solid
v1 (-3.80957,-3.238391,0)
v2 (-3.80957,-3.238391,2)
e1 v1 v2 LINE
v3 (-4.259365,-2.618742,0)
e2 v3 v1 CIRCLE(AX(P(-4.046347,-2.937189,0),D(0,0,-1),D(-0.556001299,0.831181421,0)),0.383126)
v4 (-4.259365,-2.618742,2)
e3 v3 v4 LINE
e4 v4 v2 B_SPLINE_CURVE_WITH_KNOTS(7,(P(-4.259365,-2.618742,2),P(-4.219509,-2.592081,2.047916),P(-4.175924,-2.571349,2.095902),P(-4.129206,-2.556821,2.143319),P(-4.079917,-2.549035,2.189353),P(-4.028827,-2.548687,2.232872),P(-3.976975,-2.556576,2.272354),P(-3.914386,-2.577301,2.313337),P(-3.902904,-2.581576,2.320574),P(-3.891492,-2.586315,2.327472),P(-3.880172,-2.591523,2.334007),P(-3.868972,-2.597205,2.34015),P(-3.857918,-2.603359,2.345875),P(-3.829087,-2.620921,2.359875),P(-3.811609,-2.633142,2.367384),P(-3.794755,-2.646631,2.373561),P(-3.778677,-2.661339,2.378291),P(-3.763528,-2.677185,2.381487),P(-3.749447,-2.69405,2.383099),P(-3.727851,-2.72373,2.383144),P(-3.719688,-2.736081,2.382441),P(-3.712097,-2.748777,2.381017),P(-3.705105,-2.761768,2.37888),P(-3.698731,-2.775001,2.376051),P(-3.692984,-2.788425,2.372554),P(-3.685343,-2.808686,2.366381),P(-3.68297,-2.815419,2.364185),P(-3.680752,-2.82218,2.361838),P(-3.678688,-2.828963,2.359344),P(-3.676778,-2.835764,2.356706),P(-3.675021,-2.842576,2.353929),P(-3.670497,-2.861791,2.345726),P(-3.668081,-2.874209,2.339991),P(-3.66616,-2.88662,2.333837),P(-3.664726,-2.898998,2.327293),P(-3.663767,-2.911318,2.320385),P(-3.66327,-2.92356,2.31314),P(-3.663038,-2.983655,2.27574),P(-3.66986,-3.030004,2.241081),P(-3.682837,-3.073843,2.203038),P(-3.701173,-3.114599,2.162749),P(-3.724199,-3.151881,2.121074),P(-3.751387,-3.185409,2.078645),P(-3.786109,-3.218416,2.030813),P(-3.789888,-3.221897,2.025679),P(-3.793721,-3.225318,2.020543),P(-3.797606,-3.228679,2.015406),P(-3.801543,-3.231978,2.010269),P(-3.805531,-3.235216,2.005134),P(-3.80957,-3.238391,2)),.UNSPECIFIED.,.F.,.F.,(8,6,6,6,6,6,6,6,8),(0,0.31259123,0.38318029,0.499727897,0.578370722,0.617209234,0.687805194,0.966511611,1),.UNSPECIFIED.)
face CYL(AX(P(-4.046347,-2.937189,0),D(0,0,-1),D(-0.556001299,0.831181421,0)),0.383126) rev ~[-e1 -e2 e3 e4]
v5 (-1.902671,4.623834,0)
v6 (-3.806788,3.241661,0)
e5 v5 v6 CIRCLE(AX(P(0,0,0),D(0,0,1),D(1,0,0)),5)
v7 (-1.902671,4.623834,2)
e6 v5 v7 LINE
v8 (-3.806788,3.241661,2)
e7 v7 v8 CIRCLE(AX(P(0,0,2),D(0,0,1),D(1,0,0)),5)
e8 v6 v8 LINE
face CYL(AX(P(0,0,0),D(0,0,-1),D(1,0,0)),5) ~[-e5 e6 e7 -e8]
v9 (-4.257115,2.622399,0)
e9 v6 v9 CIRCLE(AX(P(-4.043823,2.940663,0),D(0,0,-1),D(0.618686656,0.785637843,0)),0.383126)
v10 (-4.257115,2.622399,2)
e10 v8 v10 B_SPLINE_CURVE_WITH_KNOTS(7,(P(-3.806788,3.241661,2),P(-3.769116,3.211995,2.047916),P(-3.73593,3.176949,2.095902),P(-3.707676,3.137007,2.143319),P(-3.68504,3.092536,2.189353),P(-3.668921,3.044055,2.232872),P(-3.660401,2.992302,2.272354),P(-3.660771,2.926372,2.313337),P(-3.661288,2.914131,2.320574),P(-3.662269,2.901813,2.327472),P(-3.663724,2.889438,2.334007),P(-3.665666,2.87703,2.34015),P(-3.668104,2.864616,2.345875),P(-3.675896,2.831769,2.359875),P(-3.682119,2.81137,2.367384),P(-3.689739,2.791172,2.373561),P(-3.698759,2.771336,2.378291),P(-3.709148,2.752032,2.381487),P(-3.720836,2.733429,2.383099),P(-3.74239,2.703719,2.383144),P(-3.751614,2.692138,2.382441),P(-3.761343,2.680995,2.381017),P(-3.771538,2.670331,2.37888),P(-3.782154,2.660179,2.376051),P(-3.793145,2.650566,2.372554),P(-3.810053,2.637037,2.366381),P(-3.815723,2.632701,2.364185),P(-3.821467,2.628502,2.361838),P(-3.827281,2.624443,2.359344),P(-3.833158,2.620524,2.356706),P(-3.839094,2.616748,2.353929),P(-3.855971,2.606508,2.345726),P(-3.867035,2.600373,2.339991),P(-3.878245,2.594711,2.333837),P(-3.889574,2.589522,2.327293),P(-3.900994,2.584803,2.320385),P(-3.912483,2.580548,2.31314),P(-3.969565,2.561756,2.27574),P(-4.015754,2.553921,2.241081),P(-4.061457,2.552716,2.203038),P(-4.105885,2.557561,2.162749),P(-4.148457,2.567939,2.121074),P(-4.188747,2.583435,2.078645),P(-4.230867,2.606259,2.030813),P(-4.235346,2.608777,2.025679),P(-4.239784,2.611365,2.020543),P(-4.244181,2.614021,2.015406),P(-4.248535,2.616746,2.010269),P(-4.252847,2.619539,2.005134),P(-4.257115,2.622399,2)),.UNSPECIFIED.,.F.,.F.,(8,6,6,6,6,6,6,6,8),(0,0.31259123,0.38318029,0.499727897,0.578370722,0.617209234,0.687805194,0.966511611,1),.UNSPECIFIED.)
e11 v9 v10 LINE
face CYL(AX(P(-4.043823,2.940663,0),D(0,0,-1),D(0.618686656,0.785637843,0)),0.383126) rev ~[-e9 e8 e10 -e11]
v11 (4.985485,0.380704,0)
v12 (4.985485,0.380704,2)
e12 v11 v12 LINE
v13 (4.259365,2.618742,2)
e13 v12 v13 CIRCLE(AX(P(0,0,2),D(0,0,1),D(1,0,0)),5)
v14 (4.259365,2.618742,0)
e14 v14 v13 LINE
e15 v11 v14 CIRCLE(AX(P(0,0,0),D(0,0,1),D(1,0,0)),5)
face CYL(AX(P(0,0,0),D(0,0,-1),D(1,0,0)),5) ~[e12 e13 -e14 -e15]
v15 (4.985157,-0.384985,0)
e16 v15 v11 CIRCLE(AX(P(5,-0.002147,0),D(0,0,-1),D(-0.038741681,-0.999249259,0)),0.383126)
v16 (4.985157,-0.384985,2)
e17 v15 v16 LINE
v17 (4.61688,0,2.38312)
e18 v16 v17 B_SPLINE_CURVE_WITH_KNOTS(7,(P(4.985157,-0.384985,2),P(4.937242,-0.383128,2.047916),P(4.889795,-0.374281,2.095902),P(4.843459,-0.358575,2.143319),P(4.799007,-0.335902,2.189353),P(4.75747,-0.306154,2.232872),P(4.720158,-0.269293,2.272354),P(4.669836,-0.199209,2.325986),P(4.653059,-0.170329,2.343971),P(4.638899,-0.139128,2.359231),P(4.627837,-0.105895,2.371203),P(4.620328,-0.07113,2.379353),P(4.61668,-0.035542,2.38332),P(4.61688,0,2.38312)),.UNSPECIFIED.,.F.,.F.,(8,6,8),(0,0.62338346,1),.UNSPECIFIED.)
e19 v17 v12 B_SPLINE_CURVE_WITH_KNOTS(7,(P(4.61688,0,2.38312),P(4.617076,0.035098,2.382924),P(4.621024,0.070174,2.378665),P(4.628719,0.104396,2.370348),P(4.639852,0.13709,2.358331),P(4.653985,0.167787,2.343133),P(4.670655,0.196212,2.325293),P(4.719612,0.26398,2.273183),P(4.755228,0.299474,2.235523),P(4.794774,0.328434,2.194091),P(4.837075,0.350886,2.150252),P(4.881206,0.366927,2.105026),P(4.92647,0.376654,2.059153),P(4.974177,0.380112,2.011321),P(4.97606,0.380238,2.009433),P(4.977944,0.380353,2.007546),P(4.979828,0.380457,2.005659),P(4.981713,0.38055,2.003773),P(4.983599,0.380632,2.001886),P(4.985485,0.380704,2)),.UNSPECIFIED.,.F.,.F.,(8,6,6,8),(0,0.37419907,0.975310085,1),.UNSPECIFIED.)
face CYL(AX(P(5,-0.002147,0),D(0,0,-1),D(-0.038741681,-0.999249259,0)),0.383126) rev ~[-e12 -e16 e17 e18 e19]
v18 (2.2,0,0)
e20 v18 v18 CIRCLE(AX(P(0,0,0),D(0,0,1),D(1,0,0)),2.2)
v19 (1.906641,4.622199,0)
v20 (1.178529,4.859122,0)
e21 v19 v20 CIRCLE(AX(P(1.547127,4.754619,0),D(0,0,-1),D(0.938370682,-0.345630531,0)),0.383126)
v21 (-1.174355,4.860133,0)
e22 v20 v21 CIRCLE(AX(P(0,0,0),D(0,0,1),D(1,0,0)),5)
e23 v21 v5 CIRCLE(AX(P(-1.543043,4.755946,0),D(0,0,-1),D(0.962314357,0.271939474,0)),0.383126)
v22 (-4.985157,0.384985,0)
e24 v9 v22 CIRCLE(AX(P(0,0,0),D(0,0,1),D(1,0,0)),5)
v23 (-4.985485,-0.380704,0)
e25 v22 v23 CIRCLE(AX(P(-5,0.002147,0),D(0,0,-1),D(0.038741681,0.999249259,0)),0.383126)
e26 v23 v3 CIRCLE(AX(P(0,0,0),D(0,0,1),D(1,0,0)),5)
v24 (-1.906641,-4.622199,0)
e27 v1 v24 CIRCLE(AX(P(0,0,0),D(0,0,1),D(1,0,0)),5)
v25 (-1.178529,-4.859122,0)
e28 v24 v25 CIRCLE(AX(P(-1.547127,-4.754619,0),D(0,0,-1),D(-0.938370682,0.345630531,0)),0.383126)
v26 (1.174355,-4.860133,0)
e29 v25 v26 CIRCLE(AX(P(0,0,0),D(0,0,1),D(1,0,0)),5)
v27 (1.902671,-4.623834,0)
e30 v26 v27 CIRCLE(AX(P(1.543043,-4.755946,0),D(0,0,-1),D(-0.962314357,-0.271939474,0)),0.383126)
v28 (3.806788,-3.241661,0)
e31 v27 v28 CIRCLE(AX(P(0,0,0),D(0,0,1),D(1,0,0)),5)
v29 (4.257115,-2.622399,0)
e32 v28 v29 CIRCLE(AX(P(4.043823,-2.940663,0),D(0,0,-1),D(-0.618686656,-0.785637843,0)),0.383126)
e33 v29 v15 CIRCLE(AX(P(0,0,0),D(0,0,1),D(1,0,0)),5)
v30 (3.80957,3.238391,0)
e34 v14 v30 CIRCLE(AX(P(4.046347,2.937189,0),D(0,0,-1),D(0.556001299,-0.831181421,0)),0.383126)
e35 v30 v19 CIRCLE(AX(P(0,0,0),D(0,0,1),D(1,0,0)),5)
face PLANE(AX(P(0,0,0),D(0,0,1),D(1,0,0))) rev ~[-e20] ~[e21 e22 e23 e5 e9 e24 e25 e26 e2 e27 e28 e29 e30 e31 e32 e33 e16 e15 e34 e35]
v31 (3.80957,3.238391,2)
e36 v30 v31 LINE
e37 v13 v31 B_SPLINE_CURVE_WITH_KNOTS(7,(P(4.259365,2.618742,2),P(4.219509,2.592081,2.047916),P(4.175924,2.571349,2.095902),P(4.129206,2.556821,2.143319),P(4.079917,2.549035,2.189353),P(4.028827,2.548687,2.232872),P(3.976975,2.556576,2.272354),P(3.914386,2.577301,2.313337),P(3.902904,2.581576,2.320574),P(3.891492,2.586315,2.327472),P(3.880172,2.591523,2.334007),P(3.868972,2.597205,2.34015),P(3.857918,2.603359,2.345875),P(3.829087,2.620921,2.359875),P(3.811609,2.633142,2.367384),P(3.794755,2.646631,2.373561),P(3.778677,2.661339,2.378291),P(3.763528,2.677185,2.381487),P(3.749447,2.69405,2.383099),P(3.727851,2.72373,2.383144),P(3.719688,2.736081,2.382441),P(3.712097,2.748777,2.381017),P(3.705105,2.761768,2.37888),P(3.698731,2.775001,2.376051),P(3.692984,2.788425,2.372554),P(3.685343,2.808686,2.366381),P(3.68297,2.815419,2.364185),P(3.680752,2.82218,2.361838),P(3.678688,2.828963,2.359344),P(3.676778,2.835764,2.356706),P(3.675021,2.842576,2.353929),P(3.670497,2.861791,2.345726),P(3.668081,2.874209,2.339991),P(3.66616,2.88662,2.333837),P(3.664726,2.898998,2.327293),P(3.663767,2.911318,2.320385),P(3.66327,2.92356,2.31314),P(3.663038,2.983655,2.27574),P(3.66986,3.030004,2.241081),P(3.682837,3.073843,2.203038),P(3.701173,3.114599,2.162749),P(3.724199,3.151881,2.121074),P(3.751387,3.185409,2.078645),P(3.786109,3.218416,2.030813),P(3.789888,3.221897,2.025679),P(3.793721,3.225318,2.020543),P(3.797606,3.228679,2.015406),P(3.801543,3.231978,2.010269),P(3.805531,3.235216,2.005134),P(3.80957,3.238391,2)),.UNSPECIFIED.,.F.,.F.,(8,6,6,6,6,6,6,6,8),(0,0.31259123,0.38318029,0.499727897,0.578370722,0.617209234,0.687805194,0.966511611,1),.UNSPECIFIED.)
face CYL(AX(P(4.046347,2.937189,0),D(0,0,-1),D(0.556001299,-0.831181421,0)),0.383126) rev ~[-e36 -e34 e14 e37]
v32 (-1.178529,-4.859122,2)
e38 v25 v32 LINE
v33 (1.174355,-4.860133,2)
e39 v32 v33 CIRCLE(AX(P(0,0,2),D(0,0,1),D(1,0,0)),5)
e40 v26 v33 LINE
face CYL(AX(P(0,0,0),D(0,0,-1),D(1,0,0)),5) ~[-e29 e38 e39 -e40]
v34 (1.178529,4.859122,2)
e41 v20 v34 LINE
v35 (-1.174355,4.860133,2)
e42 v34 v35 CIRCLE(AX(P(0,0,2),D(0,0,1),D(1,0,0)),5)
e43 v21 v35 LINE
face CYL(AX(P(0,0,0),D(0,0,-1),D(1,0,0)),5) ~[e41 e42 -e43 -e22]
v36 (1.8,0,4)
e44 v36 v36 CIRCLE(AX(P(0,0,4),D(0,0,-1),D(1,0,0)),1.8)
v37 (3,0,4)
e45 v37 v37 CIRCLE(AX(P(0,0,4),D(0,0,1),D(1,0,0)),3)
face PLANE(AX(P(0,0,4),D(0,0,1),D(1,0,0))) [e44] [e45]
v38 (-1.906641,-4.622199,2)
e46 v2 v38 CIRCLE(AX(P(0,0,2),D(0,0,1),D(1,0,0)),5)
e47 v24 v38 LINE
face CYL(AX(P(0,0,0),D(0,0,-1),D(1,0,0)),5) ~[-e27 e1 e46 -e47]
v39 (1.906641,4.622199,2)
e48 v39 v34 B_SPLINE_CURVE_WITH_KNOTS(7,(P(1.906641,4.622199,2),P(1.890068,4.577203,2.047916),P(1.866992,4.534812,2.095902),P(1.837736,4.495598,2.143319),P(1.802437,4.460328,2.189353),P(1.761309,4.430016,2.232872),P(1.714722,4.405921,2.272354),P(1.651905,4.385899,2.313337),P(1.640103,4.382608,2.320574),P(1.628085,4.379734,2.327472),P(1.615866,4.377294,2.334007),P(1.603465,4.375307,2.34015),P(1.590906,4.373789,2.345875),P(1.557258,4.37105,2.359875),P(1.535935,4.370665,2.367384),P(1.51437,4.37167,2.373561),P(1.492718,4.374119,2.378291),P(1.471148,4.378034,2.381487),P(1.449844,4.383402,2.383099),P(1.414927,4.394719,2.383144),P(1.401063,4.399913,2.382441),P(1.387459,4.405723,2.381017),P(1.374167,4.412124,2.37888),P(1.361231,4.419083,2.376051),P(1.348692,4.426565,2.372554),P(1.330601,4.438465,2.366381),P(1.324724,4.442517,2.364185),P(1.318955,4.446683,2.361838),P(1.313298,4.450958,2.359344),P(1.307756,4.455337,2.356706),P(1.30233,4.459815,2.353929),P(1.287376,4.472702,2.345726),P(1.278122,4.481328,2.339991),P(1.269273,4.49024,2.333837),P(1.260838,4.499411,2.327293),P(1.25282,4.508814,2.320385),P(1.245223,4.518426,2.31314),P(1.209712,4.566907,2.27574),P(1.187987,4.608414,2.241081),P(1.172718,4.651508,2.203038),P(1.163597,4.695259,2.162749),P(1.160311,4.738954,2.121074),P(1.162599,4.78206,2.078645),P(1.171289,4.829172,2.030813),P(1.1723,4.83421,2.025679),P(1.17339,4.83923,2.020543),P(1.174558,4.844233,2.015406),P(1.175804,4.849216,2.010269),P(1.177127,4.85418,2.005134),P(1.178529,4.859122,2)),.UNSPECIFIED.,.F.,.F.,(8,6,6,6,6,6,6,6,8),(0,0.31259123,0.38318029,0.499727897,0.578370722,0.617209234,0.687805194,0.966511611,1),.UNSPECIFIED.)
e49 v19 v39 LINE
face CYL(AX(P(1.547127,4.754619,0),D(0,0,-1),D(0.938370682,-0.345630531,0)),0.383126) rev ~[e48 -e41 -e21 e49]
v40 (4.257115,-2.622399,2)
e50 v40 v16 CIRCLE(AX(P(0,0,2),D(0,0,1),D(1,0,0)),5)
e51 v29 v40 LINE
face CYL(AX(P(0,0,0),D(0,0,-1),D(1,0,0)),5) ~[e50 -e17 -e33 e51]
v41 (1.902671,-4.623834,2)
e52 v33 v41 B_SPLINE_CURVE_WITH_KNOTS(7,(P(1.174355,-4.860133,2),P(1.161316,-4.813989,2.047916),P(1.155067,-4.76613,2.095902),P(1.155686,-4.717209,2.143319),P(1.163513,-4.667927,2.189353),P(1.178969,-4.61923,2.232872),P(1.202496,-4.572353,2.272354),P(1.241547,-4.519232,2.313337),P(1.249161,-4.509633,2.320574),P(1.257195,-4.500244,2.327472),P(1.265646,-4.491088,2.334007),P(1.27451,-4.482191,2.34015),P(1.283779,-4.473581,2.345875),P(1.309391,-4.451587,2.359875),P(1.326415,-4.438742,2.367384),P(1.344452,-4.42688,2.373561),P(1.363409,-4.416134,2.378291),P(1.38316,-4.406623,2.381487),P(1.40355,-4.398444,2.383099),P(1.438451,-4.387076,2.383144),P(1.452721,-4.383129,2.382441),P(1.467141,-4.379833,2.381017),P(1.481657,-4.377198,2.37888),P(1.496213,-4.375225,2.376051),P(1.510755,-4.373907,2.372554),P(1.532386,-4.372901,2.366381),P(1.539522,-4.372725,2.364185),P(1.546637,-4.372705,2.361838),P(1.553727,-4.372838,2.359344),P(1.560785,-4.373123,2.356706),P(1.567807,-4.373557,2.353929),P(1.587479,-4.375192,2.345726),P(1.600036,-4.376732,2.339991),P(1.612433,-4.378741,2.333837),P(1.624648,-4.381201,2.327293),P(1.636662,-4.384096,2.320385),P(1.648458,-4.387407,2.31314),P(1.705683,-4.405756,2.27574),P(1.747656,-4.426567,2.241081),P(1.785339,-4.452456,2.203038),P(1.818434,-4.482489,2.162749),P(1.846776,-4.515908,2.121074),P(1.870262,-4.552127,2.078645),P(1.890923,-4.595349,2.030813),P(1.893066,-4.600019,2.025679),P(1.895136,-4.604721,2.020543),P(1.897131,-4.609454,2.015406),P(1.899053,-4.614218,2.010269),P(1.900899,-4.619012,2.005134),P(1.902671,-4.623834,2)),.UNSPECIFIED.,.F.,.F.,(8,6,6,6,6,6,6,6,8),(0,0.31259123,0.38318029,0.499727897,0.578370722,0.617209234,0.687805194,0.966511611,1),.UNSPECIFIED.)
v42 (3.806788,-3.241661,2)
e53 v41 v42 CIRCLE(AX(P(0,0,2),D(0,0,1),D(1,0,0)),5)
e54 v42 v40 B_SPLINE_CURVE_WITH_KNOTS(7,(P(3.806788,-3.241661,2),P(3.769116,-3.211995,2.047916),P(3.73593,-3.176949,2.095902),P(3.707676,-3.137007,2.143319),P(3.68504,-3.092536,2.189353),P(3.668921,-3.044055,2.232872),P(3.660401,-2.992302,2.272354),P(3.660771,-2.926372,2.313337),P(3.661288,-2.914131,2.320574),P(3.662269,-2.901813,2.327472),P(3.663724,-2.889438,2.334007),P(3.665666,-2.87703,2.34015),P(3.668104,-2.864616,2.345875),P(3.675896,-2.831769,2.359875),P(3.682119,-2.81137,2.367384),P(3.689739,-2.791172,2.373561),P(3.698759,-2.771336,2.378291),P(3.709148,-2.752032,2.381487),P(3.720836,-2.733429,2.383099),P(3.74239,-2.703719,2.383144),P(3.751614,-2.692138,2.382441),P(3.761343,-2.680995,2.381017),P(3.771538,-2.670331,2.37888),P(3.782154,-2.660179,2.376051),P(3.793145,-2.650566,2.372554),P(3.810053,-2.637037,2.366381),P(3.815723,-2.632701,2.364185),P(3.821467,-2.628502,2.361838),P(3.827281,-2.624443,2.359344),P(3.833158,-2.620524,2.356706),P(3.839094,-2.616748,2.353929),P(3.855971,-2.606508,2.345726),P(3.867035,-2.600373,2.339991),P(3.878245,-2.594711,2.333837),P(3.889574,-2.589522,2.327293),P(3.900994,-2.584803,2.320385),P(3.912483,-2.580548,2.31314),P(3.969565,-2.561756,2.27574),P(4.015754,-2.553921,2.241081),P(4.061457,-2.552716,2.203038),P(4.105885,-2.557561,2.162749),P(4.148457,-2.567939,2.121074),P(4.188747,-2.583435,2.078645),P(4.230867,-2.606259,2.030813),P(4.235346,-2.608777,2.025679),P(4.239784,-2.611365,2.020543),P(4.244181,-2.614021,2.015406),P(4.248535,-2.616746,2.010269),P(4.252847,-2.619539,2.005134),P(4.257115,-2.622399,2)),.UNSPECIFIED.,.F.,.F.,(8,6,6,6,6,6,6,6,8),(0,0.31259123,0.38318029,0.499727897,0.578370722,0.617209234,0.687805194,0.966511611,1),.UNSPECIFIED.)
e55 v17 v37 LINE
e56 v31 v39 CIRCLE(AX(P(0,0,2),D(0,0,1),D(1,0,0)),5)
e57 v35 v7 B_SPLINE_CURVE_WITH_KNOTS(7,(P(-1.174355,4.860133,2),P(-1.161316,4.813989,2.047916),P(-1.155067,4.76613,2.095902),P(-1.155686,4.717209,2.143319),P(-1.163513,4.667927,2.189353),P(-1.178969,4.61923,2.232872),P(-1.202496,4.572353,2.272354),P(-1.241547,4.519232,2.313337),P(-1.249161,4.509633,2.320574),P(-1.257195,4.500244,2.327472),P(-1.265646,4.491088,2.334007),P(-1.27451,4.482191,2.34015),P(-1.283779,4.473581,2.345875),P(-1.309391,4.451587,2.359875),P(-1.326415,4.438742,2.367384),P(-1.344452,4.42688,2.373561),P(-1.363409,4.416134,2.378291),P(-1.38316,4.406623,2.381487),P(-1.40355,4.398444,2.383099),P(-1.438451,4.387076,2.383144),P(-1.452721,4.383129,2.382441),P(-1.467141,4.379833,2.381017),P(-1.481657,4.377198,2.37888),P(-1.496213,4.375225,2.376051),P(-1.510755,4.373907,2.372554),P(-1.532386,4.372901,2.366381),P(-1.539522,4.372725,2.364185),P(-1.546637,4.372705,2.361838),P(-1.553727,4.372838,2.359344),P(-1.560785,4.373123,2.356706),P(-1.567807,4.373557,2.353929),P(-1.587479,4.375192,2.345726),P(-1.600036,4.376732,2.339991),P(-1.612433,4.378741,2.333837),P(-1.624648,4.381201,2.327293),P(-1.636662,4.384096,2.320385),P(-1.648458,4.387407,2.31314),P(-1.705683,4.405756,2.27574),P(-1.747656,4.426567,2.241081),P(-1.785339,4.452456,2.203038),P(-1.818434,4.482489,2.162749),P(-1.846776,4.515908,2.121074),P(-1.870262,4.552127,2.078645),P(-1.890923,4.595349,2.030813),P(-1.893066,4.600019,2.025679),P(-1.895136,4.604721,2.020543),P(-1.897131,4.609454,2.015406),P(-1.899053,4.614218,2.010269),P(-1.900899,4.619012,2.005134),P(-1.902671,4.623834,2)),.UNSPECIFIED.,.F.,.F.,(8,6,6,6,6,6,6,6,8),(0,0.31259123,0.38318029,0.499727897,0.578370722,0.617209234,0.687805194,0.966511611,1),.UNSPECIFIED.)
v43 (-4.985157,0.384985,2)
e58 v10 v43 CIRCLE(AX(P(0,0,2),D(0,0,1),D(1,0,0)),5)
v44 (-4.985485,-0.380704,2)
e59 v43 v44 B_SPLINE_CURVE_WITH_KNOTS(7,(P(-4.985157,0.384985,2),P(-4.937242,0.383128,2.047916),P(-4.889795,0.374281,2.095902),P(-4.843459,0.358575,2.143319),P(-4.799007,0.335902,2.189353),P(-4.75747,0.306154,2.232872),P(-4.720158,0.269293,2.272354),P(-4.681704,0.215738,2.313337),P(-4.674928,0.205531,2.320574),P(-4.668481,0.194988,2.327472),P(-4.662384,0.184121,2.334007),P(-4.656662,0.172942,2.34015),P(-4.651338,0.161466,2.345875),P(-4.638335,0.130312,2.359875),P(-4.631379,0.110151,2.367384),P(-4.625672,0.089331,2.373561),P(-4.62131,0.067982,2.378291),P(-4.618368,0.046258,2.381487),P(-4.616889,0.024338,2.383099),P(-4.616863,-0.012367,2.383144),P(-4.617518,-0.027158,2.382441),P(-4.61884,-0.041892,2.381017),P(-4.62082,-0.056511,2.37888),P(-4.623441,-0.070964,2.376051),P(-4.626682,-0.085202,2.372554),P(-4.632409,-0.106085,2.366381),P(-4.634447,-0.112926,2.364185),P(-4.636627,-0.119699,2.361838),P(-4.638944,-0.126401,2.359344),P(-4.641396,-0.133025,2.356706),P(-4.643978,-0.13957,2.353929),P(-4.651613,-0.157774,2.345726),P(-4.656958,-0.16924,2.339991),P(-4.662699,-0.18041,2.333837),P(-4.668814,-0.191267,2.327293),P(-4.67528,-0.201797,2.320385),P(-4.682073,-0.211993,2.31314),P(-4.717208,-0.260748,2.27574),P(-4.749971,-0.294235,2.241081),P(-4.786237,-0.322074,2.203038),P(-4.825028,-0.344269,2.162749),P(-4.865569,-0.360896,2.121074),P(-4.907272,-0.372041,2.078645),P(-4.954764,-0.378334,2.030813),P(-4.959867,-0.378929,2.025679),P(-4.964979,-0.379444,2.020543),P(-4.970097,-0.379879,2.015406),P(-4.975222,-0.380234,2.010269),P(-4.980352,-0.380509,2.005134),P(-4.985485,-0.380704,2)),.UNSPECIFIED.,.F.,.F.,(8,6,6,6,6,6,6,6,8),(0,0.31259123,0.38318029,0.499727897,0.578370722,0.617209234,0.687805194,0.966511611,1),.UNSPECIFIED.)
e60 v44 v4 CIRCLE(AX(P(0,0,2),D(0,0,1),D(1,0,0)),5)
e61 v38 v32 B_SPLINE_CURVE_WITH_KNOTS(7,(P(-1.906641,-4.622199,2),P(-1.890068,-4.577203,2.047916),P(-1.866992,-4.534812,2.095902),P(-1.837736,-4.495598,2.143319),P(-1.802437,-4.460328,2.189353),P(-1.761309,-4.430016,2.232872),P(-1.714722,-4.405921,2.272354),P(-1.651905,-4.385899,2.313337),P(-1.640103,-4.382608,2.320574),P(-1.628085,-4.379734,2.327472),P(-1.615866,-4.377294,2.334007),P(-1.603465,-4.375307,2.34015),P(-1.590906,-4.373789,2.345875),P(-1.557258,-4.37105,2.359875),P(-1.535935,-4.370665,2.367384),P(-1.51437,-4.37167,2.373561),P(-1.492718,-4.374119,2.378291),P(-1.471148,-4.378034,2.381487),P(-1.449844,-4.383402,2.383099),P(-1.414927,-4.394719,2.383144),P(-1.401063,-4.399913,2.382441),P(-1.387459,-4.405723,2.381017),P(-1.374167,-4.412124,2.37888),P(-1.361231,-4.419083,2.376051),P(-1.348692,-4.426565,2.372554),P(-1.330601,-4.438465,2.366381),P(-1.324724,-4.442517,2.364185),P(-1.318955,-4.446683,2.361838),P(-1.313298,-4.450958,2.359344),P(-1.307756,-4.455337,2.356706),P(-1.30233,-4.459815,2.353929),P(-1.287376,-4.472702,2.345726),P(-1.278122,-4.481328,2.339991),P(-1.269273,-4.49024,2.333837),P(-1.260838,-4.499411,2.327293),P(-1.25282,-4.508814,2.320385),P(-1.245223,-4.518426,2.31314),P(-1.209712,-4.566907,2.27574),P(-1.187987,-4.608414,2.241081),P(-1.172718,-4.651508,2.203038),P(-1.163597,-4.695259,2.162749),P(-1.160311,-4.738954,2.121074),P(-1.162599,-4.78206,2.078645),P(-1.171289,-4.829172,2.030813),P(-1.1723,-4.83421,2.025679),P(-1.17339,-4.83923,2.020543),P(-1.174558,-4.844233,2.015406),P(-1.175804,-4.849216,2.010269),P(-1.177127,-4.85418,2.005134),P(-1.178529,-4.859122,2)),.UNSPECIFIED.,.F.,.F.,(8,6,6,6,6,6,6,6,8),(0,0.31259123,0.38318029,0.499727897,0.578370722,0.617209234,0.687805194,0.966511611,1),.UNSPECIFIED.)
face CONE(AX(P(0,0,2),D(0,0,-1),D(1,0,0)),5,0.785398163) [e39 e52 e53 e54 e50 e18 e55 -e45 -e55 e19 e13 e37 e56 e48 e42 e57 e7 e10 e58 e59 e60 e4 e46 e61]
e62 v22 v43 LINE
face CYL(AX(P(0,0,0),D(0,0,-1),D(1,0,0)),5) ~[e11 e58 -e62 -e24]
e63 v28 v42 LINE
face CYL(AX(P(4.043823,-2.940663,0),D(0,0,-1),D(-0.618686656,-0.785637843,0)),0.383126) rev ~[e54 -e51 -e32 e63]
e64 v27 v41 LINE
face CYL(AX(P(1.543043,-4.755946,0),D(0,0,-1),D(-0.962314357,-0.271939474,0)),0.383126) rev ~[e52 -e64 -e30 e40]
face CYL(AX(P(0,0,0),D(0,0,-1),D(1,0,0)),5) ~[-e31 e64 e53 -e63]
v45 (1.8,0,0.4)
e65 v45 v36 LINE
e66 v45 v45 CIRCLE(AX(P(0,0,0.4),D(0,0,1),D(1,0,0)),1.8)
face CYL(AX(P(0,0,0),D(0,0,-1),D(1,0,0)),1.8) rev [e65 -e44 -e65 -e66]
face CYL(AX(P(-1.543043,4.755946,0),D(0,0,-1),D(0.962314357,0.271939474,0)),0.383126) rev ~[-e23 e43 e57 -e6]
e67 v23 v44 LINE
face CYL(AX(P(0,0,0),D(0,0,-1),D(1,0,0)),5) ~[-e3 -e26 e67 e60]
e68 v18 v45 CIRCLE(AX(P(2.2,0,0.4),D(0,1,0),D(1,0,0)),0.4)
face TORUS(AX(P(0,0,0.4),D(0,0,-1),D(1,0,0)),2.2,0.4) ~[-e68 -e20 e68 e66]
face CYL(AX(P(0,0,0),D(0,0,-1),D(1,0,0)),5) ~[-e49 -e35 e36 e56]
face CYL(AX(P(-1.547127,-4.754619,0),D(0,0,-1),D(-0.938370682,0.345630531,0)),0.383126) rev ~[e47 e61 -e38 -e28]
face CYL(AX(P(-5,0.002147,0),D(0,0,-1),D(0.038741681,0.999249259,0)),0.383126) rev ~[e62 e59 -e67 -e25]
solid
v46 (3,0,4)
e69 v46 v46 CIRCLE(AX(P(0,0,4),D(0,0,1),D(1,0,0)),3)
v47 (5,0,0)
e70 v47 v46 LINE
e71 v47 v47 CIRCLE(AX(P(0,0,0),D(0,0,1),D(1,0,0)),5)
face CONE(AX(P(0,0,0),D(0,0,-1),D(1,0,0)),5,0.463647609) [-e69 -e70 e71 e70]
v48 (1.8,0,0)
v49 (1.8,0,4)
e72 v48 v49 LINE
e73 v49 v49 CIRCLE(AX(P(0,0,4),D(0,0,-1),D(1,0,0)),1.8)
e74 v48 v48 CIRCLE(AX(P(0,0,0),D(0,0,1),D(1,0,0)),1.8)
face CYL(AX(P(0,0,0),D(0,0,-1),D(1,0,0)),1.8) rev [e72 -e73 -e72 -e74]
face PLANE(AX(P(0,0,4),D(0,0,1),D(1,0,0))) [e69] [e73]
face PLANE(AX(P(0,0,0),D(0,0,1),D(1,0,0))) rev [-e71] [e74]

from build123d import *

# Parameters (mm, degrees)
CYLINDER_R         = 1.8
CYLINDER_DEPTH     = 10
CYLINDER002_R      = 1.8
CYLINDER002_DEPTH  = 10
CYLINDER001_R      = 5
CYLINDER001_DEPTH  = 4
CHAMFER_SIZE       = 2
FILLET_R           = 0.4
POCKET_DEPTH       = 33.3948769134
POLARPATTERN_COUNT = 10


with BuildPart() as cilindro:
    # Cylinder → Cylinder (new body)
    with BuildSketch(Plane.XY):
        Circle(CYLINDER_R)
    extrude(amount=CYLINDER_DEPTH)


with BuildPart() as cut:
    # Cone → Cone (revolve)
    with BuildSketch(Plane.XZ):
        Polygon((0, 0), (5, 0), (3, 4), (0, 4), align=None)
    revolve(axis=Axis((0, 0, 0), (0, 0, 1)))

    # Cut: cut Cilindro
    add(cilindro.part, mode=Mode.SUBTRACT)


with BuildPart() as cilindro002:
    # Cylinder002 → Cylinder002 (new body)
    with BuildSketch(Plane.XY):
        Circle(CYLINDER002_R)
    extrude(amount=CYLINDER002_DEPTH)


with BuildPart() as body:
    # Cylinder001 → Cylinder001 (new body)
    with BuildSketch(Plane.XY):
        Circle(CYLINDER001_R)
    extrude(amount=CYLINDER001_DEPTH)

    # Cut001: cut Cilindro002
    add(cilindro002.part, mode=Mode.SUBTRACT)

    # Chamfer
    chamfer_edges = [body.edges().sort_by_distance(p)[0] for p in [
        (-5, 0, 4),
    ]]
    chamfer(chamfer_edges, length=CHAMFER_SIZE)

    # Fillet
    fillet_edges = [body.edges().sort_by_distance(p)[0] for p in [
        (-1.8, 0, 0),
    ]]
    fillet(fillet_edges, radius=FILLET_R)

    # CopySketch002 → Pocket (cut, through all)
    with BuildSketch(Plane(origin=(0, 0, 0), x_dir=(-1, 0, 0), z_dir=(0, 0, -1))):
        with BuildLine():
            ThreePointArc((-4.9851565937, -0.3849853717), (-4.6168735744, -0.0019824857), (-4.9854853807, 0.3807039776))
            ThreePointArc((-4.9854853807, 0.3807039776), (-4.999999539, -0.002147), (-4.9851565937, -0.3849853717))
        make_face()
    pocket = extrude(amount=-POCKET_DEPTH, mode=Mode.SUBTRACT)

    # PolarPattern: Pocket ×10 about axis
    polarpattern_axis = Axis((0, 0, 0), (0, 0, -1))
    for i in range(1, POLARPATTERN_COUNT):
        add(pocket.rotate(polarpattern_axis, i * 360 / POLARPATTERN_COUNT), mode=Mode.SUBTRACT)


solid = Compound([cut.part, body.part])
